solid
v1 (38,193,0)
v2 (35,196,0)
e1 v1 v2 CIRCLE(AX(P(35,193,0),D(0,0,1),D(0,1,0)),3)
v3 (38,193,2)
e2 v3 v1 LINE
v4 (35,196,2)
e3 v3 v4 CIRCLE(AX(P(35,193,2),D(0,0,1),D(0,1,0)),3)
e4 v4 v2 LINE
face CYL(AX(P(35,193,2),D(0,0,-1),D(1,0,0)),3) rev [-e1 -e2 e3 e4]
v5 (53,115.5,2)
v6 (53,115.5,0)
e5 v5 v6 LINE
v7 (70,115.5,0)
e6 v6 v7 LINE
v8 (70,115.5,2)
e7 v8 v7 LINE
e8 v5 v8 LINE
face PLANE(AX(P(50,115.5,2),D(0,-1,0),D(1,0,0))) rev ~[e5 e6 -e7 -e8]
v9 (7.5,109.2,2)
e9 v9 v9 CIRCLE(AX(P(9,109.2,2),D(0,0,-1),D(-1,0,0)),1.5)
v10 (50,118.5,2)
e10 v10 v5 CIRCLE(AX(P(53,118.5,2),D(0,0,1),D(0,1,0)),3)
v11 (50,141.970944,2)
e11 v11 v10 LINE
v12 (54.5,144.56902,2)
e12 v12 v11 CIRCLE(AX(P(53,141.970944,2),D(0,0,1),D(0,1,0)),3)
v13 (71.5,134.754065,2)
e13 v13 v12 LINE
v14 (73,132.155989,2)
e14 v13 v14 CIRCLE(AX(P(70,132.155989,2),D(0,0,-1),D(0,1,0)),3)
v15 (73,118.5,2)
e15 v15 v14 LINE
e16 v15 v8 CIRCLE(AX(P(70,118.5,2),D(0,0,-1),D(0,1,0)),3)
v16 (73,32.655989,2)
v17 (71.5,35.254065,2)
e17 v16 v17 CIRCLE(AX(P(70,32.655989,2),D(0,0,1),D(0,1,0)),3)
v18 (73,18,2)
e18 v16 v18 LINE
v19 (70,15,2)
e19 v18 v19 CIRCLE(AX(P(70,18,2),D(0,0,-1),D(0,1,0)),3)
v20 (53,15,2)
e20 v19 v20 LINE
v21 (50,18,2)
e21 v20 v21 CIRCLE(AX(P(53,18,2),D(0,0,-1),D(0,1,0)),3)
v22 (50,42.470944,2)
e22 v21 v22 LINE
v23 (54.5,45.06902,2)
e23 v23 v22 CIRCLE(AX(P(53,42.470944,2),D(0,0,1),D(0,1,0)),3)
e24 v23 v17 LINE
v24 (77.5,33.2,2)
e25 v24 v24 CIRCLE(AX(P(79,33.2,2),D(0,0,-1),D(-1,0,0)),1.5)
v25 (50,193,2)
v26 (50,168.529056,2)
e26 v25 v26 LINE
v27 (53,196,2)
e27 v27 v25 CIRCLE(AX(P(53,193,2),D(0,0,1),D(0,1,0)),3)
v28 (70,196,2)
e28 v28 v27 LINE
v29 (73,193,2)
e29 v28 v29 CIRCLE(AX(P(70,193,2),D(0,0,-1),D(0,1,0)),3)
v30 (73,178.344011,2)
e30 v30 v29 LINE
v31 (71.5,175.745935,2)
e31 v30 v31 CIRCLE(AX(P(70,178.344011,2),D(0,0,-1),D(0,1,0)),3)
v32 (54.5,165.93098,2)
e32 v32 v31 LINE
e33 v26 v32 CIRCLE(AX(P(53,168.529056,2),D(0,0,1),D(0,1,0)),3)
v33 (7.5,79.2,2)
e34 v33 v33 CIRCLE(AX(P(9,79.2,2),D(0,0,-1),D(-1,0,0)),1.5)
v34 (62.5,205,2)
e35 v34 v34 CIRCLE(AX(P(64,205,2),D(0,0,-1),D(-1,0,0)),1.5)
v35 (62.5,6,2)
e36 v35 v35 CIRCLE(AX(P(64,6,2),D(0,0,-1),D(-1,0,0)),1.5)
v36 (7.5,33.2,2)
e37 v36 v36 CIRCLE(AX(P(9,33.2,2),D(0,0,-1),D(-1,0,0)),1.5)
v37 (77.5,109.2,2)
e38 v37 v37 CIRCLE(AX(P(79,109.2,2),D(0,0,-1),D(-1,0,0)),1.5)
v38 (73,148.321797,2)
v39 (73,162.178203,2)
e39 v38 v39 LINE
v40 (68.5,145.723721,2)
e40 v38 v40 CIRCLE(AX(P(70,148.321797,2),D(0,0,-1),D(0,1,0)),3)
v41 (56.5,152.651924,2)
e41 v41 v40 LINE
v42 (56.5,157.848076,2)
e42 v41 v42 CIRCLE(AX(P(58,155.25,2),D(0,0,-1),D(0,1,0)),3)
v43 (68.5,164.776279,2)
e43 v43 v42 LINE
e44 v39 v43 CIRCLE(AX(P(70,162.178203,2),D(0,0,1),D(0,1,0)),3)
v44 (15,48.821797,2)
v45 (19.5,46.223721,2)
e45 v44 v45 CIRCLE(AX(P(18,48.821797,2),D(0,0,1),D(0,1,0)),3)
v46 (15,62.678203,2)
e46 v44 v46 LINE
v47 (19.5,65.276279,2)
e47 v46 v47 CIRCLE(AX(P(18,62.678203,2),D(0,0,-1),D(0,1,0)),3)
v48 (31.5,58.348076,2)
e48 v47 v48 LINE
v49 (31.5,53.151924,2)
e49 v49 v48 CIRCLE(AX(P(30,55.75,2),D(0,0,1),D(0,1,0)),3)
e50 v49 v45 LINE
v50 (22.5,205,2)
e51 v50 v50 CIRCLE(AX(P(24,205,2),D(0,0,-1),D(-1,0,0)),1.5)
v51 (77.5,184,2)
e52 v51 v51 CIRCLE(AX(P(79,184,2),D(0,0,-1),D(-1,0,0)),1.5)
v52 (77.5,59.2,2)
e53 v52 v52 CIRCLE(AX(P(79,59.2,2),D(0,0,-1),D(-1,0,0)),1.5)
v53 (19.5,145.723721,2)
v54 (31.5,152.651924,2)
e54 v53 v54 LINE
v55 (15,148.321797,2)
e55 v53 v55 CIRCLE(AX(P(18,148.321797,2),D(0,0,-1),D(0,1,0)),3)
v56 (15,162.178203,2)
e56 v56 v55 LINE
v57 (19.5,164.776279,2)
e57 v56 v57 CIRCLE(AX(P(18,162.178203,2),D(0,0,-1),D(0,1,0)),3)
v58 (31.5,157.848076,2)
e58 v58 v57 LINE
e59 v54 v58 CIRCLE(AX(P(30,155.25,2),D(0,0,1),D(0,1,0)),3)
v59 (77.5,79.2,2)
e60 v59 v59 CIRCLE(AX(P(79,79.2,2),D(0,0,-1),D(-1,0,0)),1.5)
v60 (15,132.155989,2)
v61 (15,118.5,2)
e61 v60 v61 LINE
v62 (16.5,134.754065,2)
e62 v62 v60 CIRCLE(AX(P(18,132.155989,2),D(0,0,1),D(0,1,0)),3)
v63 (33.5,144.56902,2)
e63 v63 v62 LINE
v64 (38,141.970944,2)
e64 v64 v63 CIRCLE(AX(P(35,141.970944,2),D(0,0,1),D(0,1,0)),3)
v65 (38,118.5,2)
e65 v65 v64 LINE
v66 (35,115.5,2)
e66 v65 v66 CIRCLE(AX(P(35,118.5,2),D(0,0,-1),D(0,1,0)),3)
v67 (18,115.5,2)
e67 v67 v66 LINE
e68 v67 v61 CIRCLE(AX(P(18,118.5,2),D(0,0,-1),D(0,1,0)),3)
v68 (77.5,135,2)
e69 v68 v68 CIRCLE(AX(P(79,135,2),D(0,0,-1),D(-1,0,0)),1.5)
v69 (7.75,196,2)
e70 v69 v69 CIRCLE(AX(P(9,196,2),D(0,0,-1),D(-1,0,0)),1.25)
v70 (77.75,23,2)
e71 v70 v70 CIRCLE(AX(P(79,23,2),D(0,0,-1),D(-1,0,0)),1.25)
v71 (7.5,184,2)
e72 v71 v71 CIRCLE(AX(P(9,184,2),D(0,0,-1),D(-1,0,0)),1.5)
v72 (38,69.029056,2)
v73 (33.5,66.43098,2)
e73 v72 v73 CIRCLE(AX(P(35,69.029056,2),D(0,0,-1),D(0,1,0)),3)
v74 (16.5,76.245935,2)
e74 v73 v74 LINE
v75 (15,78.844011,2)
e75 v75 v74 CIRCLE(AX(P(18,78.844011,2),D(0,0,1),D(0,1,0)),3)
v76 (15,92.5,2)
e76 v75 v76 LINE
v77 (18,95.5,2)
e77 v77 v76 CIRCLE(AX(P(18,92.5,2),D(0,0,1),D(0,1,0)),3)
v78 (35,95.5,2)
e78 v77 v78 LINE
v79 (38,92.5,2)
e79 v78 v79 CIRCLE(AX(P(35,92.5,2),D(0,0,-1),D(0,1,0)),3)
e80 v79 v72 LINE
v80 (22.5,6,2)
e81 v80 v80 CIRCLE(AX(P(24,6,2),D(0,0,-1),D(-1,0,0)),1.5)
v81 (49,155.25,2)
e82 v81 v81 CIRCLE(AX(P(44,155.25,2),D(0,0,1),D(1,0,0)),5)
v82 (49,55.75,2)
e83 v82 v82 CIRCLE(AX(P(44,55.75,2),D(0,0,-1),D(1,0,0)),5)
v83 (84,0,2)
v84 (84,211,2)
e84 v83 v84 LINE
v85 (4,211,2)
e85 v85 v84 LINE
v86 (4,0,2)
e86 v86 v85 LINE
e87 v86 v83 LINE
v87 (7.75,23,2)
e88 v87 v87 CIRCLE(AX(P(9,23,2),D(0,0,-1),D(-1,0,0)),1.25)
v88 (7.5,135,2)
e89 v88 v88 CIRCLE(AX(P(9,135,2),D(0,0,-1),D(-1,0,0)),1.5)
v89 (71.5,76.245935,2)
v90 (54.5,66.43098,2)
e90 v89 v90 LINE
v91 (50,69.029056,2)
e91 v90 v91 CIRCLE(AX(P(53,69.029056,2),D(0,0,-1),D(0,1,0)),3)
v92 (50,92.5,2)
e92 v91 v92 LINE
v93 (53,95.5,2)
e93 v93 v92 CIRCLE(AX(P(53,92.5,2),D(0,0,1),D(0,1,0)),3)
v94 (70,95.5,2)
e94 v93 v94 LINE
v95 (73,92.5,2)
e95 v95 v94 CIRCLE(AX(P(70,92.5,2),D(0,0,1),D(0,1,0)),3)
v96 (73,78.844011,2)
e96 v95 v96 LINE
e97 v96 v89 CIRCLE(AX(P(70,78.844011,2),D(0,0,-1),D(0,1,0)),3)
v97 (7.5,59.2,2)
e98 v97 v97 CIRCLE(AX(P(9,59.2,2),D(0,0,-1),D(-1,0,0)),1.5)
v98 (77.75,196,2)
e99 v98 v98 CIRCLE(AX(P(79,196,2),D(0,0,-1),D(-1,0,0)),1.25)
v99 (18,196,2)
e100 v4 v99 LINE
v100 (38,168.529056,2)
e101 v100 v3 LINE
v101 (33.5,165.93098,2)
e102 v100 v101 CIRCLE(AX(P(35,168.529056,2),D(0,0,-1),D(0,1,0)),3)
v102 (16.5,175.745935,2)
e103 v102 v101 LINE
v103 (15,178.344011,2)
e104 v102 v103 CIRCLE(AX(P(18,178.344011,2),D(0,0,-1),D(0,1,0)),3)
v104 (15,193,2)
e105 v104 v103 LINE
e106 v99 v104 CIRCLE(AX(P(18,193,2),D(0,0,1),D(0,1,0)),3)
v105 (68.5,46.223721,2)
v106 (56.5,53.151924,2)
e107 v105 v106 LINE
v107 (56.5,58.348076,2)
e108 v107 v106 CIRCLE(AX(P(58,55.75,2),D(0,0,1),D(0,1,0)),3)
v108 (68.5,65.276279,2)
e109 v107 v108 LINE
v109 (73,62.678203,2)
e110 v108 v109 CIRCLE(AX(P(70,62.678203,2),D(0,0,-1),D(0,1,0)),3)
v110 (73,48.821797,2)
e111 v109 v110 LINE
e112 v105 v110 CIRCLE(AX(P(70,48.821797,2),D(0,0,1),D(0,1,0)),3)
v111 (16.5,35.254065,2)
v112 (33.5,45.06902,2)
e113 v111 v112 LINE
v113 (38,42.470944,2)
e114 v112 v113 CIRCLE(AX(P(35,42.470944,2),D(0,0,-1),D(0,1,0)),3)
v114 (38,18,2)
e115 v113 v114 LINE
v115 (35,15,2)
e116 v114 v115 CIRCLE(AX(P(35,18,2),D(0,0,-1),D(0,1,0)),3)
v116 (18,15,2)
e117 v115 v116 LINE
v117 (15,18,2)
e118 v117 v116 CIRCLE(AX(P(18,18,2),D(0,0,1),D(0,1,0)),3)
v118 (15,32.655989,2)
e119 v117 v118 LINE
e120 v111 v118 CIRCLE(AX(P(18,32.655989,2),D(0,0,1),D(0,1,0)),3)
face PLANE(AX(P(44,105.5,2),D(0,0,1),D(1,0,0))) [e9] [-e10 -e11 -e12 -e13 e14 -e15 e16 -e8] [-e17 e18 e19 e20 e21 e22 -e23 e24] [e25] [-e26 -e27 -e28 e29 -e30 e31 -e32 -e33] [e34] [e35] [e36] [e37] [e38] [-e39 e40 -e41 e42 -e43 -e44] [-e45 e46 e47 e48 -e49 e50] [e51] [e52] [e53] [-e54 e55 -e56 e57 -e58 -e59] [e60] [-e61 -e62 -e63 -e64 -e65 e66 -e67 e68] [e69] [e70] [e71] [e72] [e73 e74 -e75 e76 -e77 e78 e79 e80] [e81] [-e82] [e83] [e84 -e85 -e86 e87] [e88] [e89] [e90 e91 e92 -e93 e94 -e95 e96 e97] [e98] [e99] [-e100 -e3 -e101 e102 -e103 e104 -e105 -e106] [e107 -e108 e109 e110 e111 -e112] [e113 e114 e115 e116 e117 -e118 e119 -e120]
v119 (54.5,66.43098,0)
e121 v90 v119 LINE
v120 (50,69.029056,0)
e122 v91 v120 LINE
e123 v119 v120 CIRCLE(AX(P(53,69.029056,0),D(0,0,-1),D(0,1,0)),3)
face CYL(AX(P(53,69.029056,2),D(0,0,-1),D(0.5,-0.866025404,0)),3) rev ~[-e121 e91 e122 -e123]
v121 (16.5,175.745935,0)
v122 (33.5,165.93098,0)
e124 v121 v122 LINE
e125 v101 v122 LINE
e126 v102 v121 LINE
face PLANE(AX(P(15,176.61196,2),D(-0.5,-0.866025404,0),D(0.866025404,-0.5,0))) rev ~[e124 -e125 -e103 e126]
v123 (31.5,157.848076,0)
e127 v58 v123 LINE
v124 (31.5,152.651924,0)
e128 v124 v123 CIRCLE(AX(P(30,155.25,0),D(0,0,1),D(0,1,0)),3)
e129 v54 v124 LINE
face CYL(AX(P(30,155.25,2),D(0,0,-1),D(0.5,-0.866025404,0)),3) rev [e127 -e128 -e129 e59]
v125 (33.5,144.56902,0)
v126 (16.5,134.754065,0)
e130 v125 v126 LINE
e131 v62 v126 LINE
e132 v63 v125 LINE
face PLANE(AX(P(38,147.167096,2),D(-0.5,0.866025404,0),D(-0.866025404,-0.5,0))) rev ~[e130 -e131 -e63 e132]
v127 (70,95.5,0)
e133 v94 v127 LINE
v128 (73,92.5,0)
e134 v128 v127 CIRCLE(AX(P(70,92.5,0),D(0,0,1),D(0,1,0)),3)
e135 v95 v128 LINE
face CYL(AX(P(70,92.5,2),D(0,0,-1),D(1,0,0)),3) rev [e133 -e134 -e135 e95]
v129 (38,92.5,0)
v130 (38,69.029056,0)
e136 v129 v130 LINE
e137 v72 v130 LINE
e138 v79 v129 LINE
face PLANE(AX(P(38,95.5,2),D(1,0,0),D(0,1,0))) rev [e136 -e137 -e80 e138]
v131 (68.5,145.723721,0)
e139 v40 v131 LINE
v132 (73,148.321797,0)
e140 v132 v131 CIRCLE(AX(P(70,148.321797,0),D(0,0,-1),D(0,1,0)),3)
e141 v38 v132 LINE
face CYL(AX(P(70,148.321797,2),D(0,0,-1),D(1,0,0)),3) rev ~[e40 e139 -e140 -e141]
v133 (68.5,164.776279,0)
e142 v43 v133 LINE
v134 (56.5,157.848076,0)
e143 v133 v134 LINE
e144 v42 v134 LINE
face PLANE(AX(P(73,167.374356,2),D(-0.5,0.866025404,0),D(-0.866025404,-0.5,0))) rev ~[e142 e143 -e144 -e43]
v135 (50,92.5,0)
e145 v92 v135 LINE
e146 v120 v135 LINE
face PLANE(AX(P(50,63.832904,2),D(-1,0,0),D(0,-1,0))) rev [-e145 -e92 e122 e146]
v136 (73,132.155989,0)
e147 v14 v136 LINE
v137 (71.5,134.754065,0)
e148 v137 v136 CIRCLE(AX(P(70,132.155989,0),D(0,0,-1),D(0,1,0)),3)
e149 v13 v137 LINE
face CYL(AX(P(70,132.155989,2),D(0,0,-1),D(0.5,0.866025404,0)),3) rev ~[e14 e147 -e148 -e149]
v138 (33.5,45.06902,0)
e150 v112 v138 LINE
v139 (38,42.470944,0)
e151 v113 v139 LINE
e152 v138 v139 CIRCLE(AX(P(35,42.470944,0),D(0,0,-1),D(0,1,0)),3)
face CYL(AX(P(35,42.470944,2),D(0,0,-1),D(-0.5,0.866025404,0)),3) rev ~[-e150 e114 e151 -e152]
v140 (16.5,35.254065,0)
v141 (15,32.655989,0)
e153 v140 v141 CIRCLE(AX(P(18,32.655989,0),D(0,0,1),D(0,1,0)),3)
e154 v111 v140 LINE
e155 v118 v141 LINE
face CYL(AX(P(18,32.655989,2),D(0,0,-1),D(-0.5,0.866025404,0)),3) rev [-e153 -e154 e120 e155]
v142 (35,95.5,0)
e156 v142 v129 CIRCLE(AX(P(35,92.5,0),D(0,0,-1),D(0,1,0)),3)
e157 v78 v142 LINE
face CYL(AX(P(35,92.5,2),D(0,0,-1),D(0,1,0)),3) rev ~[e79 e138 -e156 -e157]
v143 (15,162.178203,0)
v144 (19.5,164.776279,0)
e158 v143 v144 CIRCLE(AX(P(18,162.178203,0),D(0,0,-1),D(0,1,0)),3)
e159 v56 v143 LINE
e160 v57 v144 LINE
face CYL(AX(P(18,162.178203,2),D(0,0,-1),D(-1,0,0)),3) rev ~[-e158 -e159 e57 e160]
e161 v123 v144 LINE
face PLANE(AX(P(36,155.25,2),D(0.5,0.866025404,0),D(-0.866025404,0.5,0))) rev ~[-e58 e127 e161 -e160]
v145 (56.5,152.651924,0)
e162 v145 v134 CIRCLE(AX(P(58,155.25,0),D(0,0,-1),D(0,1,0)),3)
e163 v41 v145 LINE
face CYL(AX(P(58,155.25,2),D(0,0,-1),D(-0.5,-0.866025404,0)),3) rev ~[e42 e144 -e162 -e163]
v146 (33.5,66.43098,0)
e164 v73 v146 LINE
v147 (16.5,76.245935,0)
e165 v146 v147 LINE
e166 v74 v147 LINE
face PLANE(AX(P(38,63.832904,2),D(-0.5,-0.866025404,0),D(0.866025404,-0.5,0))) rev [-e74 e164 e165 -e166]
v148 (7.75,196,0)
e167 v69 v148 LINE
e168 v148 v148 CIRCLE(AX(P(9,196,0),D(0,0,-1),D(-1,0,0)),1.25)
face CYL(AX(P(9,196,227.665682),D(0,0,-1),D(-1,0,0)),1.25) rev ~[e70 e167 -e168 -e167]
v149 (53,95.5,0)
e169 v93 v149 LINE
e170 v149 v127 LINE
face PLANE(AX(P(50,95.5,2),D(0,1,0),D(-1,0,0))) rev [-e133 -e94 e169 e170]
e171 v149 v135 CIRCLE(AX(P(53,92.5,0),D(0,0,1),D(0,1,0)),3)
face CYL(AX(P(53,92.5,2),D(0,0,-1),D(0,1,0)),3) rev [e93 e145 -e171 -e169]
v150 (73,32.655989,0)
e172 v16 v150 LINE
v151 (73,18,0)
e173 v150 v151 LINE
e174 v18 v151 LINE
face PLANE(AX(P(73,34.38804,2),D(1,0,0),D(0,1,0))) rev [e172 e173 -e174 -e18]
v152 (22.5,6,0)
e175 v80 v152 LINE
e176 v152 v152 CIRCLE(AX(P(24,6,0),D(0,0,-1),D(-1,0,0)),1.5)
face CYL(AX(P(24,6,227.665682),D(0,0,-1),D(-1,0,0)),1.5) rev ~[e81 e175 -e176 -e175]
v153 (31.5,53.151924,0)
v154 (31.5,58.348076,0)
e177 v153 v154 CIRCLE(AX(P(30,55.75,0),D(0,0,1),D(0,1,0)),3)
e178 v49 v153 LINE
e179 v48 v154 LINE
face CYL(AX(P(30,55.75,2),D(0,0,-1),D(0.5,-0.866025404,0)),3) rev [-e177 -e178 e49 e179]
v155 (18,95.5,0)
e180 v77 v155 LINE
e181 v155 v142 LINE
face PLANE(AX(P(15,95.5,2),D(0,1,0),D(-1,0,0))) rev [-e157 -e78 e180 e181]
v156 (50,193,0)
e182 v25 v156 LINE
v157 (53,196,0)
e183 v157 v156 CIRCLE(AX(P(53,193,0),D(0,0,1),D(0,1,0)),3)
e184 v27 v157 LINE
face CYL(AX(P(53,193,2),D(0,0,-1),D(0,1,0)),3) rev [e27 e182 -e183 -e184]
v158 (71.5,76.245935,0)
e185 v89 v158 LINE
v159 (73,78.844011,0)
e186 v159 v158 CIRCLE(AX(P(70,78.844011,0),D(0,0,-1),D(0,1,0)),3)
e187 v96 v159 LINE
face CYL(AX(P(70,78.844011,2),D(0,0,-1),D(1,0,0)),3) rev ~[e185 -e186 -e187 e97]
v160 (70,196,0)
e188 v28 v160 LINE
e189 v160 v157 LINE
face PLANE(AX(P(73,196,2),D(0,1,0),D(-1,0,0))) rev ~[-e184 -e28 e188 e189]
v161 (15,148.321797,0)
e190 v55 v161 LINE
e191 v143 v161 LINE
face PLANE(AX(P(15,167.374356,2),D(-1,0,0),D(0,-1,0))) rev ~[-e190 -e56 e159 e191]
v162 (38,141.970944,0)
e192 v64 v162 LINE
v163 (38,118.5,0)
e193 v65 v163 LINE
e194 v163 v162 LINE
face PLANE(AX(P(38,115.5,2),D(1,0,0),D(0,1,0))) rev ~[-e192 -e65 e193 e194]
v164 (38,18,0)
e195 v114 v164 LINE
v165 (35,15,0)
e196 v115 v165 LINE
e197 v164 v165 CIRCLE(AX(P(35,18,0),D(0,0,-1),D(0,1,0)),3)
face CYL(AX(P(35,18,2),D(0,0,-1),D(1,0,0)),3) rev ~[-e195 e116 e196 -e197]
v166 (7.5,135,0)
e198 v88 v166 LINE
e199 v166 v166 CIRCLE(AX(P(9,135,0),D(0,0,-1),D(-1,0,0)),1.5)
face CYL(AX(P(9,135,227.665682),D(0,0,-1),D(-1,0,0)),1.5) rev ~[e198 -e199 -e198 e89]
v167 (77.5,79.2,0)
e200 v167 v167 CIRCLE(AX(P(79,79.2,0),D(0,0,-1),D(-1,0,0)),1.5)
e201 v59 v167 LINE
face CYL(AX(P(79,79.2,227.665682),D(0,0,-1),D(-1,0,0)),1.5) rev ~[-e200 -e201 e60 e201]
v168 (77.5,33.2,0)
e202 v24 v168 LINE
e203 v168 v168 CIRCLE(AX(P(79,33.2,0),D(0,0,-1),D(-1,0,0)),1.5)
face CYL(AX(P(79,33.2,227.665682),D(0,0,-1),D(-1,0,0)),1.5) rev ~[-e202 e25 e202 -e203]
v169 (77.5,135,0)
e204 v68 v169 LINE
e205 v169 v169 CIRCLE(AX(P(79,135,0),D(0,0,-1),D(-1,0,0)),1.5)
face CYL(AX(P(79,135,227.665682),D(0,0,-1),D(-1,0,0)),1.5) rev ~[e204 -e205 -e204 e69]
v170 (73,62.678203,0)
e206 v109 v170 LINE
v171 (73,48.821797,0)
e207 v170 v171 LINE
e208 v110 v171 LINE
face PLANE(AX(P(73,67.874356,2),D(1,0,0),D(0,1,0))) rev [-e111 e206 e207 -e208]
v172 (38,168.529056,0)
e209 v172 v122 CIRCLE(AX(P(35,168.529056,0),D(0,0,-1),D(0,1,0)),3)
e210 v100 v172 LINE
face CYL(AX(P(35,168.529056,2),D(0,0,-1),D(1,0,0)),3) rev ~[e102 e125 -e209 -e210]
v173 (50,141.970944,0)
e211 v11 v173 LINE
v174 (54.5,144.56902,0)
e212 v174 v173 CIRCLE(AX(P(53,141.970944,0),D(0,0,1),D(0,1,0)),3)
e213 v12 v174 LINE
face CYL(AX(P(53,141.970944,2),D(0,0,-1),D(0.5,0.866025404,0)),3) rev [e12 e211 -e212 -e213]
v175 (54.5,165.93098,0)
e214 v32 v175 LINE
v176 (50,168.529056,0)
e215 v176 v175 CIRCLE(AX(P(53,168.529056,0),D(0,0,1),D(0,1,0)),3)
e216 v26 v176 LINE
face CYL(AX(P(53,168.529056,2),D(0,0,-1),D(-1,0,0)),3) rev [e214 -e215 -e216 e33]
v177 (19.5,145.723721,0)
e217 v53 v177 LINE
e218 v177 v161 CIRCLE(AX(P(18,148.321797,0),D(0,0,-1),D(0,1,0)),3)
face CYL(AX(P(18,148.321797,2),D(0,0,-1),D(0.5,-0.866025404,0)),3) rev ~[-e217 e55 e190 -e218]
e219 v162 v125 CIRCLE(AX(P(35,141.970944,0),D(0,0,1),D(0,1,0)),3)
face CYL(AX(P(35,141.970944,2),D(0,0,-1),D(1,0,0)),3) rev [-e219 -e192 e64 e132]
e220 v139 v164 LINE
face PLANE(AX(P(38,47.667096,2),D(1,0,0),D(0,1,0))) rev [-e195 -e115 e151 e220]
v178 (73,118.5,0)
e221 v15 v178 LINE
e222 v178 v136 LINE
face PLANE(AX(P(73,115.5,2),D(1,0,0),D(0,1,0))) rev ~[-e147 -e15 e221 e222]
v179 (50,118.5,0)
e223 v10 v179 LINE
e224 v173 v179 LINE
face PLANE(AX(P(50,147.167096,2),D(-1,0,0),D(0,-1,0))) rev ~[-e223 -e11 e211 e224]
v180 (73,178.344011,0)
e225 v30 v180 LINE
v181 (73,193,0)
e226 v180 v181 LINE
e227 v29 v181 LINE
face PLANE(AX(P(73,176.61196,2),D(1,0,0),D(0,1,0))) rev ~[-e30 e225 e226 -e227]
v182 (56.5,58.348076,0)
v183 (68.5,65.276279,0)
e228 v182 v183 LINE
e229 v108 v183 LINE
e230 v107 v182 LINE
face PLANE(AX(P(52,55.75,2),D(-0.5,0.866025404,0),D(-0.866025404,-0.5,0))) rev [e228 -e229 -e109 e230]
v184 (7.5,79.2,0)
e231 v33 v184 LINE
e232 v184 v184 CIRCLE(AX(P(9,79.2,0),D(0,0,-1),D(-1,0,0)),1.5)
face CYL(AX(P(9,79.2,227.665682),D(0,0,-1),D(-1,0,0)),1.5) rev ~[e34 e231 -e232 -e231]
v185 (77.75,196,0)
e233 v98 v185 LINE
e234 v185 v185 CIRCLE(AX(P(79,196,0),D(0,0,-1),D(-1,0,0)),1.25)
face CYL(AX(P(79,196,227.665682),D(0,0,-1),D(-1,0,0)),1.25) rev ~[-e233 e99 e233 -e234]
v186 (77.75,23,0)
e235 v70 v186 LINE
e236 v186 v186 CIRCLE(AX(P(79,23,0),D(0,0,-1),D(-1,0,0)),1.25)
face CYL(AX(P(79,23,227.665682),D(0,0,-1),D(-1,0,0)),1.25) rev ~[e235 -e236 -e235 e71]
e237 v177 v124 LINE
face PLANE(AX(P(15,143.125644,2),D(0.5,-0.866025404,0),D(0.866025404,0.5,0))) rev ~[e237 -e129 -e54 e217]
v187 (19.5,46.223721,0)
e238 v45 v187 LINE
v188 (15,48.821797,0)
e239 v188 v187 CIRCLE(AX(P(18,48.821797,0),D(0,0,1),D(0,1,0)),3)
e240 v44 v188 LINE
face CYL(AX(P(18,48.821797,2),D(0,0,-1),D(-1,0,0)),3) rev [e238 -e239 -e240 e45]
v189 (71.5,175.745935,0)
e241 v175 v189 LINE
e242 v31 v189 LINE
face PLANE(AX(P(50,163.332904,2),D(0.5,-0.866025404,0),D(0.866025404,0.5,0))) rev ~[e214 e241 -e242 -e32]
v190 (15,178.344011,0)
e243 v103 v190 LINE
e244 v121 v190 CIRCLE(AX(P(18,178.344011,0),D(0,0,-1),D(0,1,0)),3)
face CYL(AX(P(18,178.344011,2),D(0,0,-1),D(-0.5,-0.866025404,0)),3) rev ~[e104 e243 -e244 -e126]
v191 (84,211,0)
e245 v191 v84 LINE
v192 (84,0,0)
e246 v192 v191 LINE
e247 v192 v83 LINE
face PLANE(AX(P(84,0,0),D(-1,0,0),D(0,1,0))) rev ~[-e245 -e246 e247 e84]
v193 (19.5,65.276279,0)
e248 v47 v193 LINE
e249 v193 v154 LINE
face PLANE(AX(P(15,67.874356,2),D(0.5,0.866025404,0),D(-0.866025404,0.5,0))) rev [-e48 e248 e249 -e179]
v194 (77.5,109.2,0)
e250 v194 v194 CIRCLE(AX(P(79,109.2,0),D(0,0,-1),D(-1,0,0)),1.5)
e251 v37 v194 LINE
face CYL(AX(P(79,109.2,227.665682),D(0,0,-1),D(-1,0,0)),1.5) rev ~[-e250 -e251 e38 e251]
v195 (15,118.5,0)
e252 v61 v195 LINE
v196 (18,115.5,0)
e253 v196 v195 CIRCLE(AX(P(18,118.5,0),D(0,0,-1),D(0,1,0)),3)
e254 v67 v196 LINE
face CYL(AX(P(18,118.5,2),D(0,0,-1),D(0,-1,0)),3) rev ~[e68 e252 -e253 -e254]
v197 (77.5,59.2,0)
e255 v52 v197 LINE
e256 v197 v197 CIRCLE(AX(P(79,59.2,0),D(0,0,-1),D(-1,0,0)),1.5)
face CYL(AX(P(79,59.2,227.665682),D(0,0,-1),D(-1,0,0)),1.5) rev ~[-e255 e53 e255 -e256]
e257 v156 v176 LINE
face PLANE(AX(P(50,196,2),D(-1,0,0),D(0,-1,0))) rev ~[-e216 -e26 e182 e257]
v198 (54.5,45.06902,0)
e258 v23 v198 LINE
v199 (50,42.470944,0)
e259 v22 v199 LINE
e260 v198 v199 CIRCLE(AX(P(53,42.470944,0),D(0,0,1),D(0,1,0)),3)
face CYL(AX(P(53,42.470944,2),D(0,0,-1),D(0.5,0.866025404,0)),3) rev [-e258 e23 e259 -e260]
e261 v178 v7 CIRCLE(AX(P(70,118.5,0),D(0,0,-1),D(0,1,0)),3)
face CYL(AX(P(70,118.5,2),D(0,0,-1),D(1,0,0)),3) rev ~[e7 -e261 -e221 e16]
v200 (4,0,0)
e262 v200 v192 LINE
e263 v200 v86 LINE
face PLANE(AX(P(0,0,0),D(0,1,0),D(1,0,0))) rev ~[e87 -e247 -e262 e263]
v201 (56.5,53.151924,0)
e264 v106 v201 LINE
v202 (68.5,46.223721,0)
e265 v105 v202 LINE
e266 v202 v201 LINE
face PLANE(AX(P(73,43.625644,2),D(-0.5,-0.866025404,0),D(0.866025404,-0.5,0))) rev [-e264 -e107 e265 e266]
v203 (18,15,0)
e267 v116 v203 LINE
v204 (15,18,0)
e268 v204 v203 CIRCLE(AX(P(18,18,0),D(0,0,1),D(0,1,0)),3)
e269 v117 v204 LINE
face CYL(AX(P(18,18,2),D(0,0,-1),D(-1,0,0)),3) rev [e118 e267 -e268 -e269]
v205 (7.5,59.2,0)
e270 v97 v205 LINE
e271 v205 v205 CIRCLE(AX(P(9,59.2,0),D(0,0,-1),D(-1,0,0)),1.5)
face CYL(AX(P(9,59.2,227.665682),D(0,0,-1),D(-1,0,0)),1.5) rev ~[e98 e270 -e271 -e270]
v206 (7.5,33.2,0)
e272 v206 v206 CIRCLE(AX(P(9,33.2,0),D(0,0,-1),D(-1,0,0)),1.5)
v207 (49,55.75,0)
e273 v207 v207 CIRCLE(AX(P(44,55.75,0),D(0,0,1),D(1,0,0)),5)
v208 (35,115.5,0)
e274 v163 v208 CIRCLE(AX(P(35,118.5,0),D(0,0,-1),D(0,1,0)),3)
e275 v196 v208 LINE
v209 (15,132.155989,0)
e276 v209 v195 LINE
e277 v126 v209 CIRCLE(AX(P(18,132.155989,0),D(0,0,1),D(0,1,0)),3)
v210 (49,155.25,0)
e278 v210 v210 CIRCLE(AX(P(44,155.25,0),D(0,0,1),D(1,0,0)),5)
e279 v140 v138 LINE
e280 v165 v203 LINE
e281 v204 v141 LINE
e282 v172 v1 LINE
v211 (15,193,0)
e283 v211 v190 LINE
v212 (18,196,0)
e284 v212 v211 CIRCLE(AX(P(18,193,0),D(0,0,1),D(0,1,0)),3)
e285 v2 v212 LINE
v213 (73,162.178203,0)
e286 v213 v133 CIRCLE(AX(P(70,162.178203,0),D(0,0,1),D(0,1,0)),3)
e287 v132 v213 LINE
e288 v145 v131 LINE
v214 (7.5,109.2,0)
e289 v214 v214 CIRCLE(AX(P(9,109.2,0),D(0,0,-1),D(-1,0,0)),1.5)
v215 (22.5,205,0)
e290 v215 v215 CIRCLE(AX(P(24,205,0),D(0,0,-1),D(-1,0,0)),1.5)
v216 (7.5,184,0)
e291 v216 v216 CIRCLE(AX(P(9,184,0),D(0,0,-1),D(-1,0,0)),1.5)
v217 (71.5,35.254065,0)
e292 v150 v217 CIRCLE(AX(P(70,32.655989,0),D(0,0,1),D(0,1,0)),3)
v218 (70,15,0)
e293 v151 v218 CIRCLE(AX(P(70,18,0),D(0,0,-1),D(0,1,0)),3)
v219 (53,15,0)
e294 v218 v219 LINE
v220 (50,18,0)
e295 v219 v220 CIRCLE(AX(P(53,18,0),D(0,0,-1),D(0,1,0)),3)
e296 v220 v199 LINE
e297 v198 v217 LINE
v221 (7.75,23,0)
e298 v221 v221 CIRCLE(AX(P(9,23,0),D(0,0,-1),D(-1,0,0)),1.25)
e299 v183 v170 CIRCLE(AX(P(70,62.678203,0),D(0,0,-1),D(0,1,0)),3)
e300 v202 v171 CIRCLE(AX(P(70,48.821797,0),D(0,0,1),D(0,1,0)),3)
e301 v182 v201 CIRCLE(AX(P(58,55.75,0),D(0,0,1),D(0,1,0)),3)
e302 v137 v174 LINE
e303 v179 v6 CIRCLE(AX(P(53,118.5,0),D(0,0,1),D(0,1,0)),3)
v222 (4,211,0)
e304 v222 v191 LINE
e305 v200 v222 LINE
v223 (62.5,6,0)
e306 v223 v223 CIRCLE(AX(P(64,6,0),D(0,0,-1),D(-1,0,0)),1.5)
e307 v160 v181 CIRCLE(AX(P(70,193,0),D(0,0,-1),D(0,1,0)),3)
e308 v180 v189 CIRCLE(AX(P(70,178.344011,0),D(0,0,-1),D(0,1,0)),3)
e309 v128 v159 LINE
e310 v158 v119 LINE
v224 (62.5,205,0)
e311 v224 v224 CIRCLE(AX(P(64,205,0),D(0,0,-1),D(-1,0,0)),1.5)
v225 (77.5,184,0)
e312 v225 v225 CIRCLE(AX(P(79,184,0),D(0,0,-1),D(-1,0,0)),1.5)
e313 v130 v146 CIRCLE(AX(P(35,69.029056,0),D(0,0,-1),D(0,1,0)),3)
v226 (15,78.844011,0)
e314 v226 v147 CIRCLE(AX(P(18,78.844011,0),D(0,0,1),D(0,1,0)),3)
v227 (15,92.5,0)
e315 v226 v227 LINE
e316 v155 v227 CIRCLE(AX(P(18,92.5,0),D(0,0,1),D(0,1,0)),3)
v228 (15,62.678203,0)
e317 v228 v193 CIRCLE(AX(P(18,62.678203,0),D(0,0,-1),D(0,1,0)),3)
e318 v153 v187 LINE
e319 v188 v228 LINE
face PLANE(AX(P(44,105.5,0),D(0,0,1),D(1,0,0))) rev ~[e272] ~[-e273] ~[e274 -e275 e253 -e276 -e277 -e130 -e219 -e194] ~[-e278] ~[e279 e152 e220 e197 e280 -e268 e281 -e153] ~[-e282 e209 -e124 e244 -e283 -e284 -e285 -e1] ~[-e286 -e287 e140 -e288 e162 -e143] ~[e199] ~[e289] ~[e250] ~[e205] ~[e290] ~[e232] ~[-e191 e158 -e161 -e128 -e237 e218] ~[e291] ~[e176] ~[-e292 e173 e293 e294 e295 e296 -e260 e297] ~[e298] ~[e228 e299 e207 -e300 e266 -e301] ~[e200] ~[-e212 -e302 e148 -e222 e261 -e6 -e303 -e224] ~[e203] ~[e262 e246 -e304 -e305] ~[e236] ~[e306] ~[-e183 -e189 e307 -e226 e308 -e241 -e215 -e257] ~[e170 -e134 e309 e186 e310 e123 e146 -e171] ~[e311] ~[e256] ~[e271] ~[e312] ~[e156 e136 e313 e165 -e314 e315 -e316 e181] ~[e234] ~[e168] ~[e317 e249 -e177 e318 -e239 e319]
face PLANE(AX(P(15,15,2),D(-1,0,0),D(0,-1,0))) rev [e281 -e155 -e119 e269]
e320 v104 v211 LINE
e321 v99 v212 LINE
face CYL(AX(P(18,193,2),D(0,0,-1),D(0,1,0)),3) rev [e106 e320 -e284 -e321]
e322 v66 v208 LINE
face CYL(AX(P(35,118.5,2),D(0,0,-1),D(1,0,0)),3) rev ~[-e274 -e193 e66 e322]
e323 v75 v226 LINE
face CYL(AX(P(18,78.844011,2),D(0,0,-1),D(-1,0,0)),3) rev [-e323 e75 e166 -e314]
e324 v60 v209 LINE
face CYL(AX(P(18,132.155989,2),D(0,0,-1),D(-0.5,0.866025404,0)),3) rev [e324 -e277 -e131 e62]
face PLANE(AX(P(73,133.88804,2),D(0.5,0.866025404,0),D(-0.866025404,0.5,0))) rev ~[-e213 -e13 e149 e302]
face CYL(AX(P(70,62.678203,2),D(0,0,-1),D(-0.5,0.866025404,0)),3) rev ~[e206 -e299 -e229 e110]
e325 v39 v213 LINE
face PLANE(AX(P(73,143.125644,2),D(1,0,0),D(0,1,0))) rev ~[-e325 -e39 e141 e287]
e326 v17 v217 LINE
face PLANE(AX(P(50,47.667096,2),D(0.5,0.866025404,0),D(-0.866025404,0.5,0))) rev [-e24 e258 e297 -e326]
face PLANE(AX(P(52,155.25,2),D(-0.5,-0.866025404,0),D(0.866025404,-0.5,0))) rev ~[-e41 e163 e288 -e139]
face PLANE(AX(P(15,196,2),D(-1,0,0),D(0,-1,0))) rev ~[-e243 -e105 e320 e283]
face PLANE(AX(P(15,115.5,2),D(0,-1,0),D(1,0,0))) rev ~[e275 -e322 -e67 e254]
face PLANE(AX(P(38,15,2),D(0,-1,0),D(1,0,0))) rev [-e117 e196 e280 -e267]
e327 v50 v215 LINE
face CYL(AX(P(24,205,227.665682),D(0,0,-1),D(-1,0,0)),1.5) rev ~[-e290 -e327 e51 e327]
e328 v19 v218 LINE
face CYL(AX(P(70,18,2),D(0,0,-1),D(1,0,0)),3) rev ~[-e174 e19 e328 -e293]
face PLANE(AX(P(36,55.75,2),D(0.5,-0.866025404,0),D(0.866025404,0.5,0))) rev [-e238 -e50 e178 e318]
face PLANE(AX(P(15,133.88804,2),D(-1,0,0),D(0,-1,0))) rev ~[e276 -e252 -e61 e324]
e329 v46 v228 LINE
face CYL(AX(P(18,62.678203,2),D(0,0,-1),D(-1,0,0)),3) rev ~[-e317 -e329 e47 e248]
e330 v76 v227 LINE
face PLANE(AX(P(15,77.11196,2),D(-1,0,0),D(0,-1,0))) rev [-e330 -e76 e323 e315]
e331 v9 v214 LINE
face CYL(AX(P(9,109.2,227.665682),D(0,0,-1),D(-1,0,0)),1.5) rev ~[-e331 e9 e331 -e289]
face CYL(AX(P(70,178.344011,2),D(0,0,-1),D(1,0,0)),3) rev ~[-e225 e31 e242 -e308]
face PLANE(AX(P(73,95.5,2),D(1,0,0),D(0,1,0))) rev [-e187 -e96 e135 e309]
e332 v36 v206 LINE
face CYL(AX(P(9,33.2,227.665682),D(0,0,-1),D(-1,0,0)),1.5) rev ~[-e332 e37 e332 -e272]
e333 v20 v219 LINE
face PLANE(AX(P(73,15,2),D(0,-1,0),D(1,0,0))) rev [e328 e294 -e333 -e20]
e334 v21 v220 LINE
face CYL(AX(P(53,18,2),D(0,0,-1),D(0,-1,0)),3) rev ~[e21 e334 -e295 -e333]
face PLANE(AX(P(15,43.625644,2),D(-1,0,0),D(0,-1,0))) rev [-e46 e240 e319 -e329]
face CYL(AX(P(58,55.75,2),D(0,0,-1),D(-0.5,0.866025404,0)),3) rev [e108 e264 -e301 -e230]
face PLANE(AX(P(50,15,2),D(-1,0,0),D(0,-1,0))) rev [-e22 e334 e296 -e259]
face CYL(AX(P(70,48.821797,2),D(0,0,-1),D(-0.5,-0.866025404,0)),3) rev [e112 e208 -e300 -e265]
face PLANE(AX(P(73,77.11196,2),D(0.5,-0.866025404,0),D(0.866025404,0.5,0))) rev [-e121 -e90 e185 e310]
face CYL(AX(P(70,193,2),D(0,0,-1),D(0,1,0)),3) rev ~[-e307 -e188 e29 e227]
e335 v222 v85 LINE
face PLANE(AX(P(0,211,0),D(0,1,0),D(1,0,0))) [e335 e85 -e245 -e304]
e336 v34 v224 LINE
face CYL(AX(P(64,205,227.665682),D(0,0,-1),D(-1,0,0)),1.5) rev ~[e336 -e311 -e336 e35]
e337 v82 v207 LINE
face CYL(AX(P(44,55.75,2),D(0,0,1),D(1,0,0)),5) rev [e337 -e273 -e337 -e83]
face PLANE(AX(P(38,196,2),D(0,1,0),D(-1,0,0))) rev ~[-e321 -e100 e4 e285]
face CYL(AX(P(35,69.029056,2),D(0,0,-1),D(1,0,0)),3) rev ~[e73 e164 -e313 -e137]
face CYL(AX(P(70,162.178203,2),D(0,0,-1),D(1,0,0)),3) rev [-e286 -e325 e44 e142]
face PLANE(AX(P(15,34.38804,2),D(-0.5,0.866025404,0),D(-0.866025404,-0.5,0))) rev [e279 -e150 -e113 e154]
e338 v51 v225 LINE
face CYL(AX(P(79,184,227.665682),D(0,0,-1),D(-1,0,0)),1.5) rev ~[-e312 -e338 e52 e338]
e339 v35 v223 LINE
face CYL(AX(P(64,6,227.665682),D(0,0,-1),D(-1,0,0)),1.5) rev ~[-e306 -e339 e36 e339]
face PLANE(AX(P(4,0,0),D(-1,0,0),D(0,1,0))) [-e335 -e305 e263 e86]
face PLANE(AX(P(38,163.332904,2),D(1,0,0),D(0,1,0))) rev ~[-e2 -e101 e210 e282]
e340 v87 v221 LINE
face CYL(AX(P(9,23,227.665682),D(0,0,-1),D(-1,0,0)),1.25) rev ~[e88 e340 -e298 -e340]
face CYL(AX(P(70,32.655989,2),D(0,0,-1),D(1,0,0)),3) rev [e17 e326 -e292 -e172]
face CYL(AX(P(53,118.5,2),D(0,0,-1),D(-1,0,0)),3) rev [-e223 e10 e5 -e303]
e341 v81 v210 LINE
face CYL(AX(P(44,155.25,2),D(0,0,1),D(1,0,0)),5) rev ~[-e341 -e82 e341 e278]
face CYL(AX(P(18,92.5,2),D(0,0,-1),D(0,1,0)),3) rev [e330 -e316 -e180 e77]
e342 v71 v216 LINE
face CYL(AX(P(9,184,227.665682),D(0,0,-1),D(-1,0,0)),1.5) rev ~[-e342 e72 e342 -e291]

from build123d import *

# Parameters (mm, degrees)
SKETCH1_W                   = 88
SKETCH1_H                   = 211
BOSS_EXTRUDE1_DEPTH         = 2
CUT_EXTRUDE2_DEPTH          = 2
SKETCH4_R                   = 5
CUT_EXTRUDE3_DEPTH          = 3
FILLET2_R                   = 3
SKETCH23_W                  = 2
SKETCH23_H                  = 211
SKETCH23_W_2                = 2.150374681
CUT_EXTRUDE5_DEPTH          = 10
SKETCH29_W                  = 5.911493913
SKETCH29_H                  = 211
SKETCH29_W_2                = 4.036537762
CUT_EXTRUDE10_DEPTH         = 2
F_3_0MM_DOWEL_HOLE1_D       = 3
TAP_DRILL_FOR_M3X0_5_TAP1_D = 2.5


with BuildPart() as part:
    # Sketch1 → Boss-Extrude1 (new body)
    with BuildSketch(Plane.XY):
        with Locations((44, 105.5)):
            Rectangle(SKETCH1_W, SKETCH1_H)
    extrude(amount=BOSS_EXTRUDE1_DEPTH)

    # Sketch3 → Cut-Extrude2 (cut)
    with BuildSketch(Plane.XY.offset(2)):
        Polygon((73, 133.88804004), (50, 147.167096231), (50, 115.5), (73, 115.5), align=None)
        Polygon((38, 115.5), (38, 147.167096231), (15, 133.88804004), (15, 115.5), align=None)
        Polygon((15, 143.125644347), (36, 155.25), (15, 167.374355653), align=None)
        Polygon((73, 143.125644347), (73, 167.374355653), (52, 155.25), align=None)
        Polygon((73, 196), (50, 196), (50, 163.332903769), (73, 176.61195996), align=None)
        Polygon((38, 163.332903769), (38, 196), (15, 196), (15, 176.61195996), align=None)
    cut_extrude2 = extrude(amount=-CUT_EXTRUDE2_DEPTH, mode=Mode.SUBTRACT)

    # Sketch4 → Cut-Extrude3 (cut, through all)
    with BuildSketch(Plane.XY.offset(2)):
        with Locations((44, 155.25)):
            Circle(SKETCH4_R)
    cut_extrude3 = extrude(amount=-CUT_EXTRUDE3_DEPTH, mode=Mode.SUBTRACT)

    # Mirror2: Cut-Extrude2, Cut-Extrude3 across plane
    add(cut_extrude2.mirror(Plane.ZX.offset(105.5)), mode=Mode.SUBTRACT)
    add(cut_extrude3.mirror(Plane.ZX.offset(105.5)), mode=Mode.SUBTRACT)

    # Fillet2
    fillet2_edges = [part.edges().sort_by_distance(p)[0] for p in [
        (36, 55.75, 1),
        (15, 43.625644347, 1),
        (15, 67.874355653, 1),
        (38, 95.5, 1),
        (38, 63.832903769, 1),
        (15, 77.11195996, 1),
        (15, 95.5, 1),
        (73, 15, 1),
        (50, 15, 1),
        (50, 47.667096231, 1),
        (73, 34.38804004, 1),
        (73, 43.625644347, 1),
        (52, 55.75, 1),
        (73, 67.874355653, 1),
        (15, 15, 1),
        (15, 34.38804004, 1),
        (38, 47.667096231, 1),
        (38, 15, 1),
        (73, 77.11195996, 1),
        (50, 63.832903769, 1),
        (50, 95.5, 1),
        (73, 95.5, 1),
        (15, 167.374355653, 1),
        (36, 155.25, 1),
        (15, 143.125644347, 1),
        (38, 147.167096231, 1),
        (38, 115.5, 1),
        (15, 115.5, 1),
        (15, 133.88804004, 1),
        (50, 196, 1),
        (73, 196, 1),
        (73, 176.61195996, 1),
        (50, 163.332903769, 1),
        (52, 155.25, 1),
        (73, 167.374355653, 1),
        (73, 143.125644347, 1),
        (15, 176.61195996, 1),
        (15, 196, 1),
        (38, 196, 1),
        (38, 163.332903769, 1),
        (50, 147.167096231, 1),
        (73, 133.88804004, 1),
        (73, 115.5, 1),
        (50, 115.5, 1),
    ]]
    fillet(fillet2_edges, radius=FILLET2_R)

    # Sketch23 → Cut-Extrude5 (cut)
    with BuildSketch(Plane.XY.offset(2)):
        with Locations((87, 105.5)):
            Rectangle(SKETCH23_W, SKETCH23_H)
        with Locations((1.075187341, 105.5)):
            Rectangle(SKETCH23_W_2, SKETCH23_H)
    extrude(amount=-CUT_EXTRUDE5_DEPTH, mode=Mode.SUBTRACT)

    # Sketch29 → Cut-Extrude10 (cut)
    with BuildSketch(Plane(origin=(0, 0, 0), x_dir=(-1, 0, 0), z_dir=(0, 0, -1))):
        with Locations((-1.044253043, 105.5)):
            Rectangle(SKETCH29_W, SKETCH29_H)
        with Locations((-86.018268881, 105.5)):
            Rectangle(SKETCH29_W_2, SKETCH29_H)
    extrude(amount=-CUT_EXTRUDE10_DEPTH, mode=Mode.SUBTRACT)

    # Ø3.0mm Dowel Hole1 (through all)
    with Locations(Plane.XY.offset(2)):
        with Locations((24, 205), (64, 205), (9, 184), (79, 184), (9, 135), (79, 135), (79, 109.2), (9, 109.2), (9, 79.2), (79, 79.2), (79, 59.2), (9, 59.2), (9, 33.2), (79, 33.2), (64, 6), (24, 6)):
            Hole(F_3_0MM_DOWEL_HOLE1_D / 2)

    # Tap Drill for M3x0.5 Tap1 (through all)
    with Locations(Plane.XY.offset(2)):
        with Locations((9, 23), (79, 23), (9, 196), (79, 196)):
            Hole(TAP_DRILL_FOR_M3X0_5_TAP1_D / 2)


solid = part.part
